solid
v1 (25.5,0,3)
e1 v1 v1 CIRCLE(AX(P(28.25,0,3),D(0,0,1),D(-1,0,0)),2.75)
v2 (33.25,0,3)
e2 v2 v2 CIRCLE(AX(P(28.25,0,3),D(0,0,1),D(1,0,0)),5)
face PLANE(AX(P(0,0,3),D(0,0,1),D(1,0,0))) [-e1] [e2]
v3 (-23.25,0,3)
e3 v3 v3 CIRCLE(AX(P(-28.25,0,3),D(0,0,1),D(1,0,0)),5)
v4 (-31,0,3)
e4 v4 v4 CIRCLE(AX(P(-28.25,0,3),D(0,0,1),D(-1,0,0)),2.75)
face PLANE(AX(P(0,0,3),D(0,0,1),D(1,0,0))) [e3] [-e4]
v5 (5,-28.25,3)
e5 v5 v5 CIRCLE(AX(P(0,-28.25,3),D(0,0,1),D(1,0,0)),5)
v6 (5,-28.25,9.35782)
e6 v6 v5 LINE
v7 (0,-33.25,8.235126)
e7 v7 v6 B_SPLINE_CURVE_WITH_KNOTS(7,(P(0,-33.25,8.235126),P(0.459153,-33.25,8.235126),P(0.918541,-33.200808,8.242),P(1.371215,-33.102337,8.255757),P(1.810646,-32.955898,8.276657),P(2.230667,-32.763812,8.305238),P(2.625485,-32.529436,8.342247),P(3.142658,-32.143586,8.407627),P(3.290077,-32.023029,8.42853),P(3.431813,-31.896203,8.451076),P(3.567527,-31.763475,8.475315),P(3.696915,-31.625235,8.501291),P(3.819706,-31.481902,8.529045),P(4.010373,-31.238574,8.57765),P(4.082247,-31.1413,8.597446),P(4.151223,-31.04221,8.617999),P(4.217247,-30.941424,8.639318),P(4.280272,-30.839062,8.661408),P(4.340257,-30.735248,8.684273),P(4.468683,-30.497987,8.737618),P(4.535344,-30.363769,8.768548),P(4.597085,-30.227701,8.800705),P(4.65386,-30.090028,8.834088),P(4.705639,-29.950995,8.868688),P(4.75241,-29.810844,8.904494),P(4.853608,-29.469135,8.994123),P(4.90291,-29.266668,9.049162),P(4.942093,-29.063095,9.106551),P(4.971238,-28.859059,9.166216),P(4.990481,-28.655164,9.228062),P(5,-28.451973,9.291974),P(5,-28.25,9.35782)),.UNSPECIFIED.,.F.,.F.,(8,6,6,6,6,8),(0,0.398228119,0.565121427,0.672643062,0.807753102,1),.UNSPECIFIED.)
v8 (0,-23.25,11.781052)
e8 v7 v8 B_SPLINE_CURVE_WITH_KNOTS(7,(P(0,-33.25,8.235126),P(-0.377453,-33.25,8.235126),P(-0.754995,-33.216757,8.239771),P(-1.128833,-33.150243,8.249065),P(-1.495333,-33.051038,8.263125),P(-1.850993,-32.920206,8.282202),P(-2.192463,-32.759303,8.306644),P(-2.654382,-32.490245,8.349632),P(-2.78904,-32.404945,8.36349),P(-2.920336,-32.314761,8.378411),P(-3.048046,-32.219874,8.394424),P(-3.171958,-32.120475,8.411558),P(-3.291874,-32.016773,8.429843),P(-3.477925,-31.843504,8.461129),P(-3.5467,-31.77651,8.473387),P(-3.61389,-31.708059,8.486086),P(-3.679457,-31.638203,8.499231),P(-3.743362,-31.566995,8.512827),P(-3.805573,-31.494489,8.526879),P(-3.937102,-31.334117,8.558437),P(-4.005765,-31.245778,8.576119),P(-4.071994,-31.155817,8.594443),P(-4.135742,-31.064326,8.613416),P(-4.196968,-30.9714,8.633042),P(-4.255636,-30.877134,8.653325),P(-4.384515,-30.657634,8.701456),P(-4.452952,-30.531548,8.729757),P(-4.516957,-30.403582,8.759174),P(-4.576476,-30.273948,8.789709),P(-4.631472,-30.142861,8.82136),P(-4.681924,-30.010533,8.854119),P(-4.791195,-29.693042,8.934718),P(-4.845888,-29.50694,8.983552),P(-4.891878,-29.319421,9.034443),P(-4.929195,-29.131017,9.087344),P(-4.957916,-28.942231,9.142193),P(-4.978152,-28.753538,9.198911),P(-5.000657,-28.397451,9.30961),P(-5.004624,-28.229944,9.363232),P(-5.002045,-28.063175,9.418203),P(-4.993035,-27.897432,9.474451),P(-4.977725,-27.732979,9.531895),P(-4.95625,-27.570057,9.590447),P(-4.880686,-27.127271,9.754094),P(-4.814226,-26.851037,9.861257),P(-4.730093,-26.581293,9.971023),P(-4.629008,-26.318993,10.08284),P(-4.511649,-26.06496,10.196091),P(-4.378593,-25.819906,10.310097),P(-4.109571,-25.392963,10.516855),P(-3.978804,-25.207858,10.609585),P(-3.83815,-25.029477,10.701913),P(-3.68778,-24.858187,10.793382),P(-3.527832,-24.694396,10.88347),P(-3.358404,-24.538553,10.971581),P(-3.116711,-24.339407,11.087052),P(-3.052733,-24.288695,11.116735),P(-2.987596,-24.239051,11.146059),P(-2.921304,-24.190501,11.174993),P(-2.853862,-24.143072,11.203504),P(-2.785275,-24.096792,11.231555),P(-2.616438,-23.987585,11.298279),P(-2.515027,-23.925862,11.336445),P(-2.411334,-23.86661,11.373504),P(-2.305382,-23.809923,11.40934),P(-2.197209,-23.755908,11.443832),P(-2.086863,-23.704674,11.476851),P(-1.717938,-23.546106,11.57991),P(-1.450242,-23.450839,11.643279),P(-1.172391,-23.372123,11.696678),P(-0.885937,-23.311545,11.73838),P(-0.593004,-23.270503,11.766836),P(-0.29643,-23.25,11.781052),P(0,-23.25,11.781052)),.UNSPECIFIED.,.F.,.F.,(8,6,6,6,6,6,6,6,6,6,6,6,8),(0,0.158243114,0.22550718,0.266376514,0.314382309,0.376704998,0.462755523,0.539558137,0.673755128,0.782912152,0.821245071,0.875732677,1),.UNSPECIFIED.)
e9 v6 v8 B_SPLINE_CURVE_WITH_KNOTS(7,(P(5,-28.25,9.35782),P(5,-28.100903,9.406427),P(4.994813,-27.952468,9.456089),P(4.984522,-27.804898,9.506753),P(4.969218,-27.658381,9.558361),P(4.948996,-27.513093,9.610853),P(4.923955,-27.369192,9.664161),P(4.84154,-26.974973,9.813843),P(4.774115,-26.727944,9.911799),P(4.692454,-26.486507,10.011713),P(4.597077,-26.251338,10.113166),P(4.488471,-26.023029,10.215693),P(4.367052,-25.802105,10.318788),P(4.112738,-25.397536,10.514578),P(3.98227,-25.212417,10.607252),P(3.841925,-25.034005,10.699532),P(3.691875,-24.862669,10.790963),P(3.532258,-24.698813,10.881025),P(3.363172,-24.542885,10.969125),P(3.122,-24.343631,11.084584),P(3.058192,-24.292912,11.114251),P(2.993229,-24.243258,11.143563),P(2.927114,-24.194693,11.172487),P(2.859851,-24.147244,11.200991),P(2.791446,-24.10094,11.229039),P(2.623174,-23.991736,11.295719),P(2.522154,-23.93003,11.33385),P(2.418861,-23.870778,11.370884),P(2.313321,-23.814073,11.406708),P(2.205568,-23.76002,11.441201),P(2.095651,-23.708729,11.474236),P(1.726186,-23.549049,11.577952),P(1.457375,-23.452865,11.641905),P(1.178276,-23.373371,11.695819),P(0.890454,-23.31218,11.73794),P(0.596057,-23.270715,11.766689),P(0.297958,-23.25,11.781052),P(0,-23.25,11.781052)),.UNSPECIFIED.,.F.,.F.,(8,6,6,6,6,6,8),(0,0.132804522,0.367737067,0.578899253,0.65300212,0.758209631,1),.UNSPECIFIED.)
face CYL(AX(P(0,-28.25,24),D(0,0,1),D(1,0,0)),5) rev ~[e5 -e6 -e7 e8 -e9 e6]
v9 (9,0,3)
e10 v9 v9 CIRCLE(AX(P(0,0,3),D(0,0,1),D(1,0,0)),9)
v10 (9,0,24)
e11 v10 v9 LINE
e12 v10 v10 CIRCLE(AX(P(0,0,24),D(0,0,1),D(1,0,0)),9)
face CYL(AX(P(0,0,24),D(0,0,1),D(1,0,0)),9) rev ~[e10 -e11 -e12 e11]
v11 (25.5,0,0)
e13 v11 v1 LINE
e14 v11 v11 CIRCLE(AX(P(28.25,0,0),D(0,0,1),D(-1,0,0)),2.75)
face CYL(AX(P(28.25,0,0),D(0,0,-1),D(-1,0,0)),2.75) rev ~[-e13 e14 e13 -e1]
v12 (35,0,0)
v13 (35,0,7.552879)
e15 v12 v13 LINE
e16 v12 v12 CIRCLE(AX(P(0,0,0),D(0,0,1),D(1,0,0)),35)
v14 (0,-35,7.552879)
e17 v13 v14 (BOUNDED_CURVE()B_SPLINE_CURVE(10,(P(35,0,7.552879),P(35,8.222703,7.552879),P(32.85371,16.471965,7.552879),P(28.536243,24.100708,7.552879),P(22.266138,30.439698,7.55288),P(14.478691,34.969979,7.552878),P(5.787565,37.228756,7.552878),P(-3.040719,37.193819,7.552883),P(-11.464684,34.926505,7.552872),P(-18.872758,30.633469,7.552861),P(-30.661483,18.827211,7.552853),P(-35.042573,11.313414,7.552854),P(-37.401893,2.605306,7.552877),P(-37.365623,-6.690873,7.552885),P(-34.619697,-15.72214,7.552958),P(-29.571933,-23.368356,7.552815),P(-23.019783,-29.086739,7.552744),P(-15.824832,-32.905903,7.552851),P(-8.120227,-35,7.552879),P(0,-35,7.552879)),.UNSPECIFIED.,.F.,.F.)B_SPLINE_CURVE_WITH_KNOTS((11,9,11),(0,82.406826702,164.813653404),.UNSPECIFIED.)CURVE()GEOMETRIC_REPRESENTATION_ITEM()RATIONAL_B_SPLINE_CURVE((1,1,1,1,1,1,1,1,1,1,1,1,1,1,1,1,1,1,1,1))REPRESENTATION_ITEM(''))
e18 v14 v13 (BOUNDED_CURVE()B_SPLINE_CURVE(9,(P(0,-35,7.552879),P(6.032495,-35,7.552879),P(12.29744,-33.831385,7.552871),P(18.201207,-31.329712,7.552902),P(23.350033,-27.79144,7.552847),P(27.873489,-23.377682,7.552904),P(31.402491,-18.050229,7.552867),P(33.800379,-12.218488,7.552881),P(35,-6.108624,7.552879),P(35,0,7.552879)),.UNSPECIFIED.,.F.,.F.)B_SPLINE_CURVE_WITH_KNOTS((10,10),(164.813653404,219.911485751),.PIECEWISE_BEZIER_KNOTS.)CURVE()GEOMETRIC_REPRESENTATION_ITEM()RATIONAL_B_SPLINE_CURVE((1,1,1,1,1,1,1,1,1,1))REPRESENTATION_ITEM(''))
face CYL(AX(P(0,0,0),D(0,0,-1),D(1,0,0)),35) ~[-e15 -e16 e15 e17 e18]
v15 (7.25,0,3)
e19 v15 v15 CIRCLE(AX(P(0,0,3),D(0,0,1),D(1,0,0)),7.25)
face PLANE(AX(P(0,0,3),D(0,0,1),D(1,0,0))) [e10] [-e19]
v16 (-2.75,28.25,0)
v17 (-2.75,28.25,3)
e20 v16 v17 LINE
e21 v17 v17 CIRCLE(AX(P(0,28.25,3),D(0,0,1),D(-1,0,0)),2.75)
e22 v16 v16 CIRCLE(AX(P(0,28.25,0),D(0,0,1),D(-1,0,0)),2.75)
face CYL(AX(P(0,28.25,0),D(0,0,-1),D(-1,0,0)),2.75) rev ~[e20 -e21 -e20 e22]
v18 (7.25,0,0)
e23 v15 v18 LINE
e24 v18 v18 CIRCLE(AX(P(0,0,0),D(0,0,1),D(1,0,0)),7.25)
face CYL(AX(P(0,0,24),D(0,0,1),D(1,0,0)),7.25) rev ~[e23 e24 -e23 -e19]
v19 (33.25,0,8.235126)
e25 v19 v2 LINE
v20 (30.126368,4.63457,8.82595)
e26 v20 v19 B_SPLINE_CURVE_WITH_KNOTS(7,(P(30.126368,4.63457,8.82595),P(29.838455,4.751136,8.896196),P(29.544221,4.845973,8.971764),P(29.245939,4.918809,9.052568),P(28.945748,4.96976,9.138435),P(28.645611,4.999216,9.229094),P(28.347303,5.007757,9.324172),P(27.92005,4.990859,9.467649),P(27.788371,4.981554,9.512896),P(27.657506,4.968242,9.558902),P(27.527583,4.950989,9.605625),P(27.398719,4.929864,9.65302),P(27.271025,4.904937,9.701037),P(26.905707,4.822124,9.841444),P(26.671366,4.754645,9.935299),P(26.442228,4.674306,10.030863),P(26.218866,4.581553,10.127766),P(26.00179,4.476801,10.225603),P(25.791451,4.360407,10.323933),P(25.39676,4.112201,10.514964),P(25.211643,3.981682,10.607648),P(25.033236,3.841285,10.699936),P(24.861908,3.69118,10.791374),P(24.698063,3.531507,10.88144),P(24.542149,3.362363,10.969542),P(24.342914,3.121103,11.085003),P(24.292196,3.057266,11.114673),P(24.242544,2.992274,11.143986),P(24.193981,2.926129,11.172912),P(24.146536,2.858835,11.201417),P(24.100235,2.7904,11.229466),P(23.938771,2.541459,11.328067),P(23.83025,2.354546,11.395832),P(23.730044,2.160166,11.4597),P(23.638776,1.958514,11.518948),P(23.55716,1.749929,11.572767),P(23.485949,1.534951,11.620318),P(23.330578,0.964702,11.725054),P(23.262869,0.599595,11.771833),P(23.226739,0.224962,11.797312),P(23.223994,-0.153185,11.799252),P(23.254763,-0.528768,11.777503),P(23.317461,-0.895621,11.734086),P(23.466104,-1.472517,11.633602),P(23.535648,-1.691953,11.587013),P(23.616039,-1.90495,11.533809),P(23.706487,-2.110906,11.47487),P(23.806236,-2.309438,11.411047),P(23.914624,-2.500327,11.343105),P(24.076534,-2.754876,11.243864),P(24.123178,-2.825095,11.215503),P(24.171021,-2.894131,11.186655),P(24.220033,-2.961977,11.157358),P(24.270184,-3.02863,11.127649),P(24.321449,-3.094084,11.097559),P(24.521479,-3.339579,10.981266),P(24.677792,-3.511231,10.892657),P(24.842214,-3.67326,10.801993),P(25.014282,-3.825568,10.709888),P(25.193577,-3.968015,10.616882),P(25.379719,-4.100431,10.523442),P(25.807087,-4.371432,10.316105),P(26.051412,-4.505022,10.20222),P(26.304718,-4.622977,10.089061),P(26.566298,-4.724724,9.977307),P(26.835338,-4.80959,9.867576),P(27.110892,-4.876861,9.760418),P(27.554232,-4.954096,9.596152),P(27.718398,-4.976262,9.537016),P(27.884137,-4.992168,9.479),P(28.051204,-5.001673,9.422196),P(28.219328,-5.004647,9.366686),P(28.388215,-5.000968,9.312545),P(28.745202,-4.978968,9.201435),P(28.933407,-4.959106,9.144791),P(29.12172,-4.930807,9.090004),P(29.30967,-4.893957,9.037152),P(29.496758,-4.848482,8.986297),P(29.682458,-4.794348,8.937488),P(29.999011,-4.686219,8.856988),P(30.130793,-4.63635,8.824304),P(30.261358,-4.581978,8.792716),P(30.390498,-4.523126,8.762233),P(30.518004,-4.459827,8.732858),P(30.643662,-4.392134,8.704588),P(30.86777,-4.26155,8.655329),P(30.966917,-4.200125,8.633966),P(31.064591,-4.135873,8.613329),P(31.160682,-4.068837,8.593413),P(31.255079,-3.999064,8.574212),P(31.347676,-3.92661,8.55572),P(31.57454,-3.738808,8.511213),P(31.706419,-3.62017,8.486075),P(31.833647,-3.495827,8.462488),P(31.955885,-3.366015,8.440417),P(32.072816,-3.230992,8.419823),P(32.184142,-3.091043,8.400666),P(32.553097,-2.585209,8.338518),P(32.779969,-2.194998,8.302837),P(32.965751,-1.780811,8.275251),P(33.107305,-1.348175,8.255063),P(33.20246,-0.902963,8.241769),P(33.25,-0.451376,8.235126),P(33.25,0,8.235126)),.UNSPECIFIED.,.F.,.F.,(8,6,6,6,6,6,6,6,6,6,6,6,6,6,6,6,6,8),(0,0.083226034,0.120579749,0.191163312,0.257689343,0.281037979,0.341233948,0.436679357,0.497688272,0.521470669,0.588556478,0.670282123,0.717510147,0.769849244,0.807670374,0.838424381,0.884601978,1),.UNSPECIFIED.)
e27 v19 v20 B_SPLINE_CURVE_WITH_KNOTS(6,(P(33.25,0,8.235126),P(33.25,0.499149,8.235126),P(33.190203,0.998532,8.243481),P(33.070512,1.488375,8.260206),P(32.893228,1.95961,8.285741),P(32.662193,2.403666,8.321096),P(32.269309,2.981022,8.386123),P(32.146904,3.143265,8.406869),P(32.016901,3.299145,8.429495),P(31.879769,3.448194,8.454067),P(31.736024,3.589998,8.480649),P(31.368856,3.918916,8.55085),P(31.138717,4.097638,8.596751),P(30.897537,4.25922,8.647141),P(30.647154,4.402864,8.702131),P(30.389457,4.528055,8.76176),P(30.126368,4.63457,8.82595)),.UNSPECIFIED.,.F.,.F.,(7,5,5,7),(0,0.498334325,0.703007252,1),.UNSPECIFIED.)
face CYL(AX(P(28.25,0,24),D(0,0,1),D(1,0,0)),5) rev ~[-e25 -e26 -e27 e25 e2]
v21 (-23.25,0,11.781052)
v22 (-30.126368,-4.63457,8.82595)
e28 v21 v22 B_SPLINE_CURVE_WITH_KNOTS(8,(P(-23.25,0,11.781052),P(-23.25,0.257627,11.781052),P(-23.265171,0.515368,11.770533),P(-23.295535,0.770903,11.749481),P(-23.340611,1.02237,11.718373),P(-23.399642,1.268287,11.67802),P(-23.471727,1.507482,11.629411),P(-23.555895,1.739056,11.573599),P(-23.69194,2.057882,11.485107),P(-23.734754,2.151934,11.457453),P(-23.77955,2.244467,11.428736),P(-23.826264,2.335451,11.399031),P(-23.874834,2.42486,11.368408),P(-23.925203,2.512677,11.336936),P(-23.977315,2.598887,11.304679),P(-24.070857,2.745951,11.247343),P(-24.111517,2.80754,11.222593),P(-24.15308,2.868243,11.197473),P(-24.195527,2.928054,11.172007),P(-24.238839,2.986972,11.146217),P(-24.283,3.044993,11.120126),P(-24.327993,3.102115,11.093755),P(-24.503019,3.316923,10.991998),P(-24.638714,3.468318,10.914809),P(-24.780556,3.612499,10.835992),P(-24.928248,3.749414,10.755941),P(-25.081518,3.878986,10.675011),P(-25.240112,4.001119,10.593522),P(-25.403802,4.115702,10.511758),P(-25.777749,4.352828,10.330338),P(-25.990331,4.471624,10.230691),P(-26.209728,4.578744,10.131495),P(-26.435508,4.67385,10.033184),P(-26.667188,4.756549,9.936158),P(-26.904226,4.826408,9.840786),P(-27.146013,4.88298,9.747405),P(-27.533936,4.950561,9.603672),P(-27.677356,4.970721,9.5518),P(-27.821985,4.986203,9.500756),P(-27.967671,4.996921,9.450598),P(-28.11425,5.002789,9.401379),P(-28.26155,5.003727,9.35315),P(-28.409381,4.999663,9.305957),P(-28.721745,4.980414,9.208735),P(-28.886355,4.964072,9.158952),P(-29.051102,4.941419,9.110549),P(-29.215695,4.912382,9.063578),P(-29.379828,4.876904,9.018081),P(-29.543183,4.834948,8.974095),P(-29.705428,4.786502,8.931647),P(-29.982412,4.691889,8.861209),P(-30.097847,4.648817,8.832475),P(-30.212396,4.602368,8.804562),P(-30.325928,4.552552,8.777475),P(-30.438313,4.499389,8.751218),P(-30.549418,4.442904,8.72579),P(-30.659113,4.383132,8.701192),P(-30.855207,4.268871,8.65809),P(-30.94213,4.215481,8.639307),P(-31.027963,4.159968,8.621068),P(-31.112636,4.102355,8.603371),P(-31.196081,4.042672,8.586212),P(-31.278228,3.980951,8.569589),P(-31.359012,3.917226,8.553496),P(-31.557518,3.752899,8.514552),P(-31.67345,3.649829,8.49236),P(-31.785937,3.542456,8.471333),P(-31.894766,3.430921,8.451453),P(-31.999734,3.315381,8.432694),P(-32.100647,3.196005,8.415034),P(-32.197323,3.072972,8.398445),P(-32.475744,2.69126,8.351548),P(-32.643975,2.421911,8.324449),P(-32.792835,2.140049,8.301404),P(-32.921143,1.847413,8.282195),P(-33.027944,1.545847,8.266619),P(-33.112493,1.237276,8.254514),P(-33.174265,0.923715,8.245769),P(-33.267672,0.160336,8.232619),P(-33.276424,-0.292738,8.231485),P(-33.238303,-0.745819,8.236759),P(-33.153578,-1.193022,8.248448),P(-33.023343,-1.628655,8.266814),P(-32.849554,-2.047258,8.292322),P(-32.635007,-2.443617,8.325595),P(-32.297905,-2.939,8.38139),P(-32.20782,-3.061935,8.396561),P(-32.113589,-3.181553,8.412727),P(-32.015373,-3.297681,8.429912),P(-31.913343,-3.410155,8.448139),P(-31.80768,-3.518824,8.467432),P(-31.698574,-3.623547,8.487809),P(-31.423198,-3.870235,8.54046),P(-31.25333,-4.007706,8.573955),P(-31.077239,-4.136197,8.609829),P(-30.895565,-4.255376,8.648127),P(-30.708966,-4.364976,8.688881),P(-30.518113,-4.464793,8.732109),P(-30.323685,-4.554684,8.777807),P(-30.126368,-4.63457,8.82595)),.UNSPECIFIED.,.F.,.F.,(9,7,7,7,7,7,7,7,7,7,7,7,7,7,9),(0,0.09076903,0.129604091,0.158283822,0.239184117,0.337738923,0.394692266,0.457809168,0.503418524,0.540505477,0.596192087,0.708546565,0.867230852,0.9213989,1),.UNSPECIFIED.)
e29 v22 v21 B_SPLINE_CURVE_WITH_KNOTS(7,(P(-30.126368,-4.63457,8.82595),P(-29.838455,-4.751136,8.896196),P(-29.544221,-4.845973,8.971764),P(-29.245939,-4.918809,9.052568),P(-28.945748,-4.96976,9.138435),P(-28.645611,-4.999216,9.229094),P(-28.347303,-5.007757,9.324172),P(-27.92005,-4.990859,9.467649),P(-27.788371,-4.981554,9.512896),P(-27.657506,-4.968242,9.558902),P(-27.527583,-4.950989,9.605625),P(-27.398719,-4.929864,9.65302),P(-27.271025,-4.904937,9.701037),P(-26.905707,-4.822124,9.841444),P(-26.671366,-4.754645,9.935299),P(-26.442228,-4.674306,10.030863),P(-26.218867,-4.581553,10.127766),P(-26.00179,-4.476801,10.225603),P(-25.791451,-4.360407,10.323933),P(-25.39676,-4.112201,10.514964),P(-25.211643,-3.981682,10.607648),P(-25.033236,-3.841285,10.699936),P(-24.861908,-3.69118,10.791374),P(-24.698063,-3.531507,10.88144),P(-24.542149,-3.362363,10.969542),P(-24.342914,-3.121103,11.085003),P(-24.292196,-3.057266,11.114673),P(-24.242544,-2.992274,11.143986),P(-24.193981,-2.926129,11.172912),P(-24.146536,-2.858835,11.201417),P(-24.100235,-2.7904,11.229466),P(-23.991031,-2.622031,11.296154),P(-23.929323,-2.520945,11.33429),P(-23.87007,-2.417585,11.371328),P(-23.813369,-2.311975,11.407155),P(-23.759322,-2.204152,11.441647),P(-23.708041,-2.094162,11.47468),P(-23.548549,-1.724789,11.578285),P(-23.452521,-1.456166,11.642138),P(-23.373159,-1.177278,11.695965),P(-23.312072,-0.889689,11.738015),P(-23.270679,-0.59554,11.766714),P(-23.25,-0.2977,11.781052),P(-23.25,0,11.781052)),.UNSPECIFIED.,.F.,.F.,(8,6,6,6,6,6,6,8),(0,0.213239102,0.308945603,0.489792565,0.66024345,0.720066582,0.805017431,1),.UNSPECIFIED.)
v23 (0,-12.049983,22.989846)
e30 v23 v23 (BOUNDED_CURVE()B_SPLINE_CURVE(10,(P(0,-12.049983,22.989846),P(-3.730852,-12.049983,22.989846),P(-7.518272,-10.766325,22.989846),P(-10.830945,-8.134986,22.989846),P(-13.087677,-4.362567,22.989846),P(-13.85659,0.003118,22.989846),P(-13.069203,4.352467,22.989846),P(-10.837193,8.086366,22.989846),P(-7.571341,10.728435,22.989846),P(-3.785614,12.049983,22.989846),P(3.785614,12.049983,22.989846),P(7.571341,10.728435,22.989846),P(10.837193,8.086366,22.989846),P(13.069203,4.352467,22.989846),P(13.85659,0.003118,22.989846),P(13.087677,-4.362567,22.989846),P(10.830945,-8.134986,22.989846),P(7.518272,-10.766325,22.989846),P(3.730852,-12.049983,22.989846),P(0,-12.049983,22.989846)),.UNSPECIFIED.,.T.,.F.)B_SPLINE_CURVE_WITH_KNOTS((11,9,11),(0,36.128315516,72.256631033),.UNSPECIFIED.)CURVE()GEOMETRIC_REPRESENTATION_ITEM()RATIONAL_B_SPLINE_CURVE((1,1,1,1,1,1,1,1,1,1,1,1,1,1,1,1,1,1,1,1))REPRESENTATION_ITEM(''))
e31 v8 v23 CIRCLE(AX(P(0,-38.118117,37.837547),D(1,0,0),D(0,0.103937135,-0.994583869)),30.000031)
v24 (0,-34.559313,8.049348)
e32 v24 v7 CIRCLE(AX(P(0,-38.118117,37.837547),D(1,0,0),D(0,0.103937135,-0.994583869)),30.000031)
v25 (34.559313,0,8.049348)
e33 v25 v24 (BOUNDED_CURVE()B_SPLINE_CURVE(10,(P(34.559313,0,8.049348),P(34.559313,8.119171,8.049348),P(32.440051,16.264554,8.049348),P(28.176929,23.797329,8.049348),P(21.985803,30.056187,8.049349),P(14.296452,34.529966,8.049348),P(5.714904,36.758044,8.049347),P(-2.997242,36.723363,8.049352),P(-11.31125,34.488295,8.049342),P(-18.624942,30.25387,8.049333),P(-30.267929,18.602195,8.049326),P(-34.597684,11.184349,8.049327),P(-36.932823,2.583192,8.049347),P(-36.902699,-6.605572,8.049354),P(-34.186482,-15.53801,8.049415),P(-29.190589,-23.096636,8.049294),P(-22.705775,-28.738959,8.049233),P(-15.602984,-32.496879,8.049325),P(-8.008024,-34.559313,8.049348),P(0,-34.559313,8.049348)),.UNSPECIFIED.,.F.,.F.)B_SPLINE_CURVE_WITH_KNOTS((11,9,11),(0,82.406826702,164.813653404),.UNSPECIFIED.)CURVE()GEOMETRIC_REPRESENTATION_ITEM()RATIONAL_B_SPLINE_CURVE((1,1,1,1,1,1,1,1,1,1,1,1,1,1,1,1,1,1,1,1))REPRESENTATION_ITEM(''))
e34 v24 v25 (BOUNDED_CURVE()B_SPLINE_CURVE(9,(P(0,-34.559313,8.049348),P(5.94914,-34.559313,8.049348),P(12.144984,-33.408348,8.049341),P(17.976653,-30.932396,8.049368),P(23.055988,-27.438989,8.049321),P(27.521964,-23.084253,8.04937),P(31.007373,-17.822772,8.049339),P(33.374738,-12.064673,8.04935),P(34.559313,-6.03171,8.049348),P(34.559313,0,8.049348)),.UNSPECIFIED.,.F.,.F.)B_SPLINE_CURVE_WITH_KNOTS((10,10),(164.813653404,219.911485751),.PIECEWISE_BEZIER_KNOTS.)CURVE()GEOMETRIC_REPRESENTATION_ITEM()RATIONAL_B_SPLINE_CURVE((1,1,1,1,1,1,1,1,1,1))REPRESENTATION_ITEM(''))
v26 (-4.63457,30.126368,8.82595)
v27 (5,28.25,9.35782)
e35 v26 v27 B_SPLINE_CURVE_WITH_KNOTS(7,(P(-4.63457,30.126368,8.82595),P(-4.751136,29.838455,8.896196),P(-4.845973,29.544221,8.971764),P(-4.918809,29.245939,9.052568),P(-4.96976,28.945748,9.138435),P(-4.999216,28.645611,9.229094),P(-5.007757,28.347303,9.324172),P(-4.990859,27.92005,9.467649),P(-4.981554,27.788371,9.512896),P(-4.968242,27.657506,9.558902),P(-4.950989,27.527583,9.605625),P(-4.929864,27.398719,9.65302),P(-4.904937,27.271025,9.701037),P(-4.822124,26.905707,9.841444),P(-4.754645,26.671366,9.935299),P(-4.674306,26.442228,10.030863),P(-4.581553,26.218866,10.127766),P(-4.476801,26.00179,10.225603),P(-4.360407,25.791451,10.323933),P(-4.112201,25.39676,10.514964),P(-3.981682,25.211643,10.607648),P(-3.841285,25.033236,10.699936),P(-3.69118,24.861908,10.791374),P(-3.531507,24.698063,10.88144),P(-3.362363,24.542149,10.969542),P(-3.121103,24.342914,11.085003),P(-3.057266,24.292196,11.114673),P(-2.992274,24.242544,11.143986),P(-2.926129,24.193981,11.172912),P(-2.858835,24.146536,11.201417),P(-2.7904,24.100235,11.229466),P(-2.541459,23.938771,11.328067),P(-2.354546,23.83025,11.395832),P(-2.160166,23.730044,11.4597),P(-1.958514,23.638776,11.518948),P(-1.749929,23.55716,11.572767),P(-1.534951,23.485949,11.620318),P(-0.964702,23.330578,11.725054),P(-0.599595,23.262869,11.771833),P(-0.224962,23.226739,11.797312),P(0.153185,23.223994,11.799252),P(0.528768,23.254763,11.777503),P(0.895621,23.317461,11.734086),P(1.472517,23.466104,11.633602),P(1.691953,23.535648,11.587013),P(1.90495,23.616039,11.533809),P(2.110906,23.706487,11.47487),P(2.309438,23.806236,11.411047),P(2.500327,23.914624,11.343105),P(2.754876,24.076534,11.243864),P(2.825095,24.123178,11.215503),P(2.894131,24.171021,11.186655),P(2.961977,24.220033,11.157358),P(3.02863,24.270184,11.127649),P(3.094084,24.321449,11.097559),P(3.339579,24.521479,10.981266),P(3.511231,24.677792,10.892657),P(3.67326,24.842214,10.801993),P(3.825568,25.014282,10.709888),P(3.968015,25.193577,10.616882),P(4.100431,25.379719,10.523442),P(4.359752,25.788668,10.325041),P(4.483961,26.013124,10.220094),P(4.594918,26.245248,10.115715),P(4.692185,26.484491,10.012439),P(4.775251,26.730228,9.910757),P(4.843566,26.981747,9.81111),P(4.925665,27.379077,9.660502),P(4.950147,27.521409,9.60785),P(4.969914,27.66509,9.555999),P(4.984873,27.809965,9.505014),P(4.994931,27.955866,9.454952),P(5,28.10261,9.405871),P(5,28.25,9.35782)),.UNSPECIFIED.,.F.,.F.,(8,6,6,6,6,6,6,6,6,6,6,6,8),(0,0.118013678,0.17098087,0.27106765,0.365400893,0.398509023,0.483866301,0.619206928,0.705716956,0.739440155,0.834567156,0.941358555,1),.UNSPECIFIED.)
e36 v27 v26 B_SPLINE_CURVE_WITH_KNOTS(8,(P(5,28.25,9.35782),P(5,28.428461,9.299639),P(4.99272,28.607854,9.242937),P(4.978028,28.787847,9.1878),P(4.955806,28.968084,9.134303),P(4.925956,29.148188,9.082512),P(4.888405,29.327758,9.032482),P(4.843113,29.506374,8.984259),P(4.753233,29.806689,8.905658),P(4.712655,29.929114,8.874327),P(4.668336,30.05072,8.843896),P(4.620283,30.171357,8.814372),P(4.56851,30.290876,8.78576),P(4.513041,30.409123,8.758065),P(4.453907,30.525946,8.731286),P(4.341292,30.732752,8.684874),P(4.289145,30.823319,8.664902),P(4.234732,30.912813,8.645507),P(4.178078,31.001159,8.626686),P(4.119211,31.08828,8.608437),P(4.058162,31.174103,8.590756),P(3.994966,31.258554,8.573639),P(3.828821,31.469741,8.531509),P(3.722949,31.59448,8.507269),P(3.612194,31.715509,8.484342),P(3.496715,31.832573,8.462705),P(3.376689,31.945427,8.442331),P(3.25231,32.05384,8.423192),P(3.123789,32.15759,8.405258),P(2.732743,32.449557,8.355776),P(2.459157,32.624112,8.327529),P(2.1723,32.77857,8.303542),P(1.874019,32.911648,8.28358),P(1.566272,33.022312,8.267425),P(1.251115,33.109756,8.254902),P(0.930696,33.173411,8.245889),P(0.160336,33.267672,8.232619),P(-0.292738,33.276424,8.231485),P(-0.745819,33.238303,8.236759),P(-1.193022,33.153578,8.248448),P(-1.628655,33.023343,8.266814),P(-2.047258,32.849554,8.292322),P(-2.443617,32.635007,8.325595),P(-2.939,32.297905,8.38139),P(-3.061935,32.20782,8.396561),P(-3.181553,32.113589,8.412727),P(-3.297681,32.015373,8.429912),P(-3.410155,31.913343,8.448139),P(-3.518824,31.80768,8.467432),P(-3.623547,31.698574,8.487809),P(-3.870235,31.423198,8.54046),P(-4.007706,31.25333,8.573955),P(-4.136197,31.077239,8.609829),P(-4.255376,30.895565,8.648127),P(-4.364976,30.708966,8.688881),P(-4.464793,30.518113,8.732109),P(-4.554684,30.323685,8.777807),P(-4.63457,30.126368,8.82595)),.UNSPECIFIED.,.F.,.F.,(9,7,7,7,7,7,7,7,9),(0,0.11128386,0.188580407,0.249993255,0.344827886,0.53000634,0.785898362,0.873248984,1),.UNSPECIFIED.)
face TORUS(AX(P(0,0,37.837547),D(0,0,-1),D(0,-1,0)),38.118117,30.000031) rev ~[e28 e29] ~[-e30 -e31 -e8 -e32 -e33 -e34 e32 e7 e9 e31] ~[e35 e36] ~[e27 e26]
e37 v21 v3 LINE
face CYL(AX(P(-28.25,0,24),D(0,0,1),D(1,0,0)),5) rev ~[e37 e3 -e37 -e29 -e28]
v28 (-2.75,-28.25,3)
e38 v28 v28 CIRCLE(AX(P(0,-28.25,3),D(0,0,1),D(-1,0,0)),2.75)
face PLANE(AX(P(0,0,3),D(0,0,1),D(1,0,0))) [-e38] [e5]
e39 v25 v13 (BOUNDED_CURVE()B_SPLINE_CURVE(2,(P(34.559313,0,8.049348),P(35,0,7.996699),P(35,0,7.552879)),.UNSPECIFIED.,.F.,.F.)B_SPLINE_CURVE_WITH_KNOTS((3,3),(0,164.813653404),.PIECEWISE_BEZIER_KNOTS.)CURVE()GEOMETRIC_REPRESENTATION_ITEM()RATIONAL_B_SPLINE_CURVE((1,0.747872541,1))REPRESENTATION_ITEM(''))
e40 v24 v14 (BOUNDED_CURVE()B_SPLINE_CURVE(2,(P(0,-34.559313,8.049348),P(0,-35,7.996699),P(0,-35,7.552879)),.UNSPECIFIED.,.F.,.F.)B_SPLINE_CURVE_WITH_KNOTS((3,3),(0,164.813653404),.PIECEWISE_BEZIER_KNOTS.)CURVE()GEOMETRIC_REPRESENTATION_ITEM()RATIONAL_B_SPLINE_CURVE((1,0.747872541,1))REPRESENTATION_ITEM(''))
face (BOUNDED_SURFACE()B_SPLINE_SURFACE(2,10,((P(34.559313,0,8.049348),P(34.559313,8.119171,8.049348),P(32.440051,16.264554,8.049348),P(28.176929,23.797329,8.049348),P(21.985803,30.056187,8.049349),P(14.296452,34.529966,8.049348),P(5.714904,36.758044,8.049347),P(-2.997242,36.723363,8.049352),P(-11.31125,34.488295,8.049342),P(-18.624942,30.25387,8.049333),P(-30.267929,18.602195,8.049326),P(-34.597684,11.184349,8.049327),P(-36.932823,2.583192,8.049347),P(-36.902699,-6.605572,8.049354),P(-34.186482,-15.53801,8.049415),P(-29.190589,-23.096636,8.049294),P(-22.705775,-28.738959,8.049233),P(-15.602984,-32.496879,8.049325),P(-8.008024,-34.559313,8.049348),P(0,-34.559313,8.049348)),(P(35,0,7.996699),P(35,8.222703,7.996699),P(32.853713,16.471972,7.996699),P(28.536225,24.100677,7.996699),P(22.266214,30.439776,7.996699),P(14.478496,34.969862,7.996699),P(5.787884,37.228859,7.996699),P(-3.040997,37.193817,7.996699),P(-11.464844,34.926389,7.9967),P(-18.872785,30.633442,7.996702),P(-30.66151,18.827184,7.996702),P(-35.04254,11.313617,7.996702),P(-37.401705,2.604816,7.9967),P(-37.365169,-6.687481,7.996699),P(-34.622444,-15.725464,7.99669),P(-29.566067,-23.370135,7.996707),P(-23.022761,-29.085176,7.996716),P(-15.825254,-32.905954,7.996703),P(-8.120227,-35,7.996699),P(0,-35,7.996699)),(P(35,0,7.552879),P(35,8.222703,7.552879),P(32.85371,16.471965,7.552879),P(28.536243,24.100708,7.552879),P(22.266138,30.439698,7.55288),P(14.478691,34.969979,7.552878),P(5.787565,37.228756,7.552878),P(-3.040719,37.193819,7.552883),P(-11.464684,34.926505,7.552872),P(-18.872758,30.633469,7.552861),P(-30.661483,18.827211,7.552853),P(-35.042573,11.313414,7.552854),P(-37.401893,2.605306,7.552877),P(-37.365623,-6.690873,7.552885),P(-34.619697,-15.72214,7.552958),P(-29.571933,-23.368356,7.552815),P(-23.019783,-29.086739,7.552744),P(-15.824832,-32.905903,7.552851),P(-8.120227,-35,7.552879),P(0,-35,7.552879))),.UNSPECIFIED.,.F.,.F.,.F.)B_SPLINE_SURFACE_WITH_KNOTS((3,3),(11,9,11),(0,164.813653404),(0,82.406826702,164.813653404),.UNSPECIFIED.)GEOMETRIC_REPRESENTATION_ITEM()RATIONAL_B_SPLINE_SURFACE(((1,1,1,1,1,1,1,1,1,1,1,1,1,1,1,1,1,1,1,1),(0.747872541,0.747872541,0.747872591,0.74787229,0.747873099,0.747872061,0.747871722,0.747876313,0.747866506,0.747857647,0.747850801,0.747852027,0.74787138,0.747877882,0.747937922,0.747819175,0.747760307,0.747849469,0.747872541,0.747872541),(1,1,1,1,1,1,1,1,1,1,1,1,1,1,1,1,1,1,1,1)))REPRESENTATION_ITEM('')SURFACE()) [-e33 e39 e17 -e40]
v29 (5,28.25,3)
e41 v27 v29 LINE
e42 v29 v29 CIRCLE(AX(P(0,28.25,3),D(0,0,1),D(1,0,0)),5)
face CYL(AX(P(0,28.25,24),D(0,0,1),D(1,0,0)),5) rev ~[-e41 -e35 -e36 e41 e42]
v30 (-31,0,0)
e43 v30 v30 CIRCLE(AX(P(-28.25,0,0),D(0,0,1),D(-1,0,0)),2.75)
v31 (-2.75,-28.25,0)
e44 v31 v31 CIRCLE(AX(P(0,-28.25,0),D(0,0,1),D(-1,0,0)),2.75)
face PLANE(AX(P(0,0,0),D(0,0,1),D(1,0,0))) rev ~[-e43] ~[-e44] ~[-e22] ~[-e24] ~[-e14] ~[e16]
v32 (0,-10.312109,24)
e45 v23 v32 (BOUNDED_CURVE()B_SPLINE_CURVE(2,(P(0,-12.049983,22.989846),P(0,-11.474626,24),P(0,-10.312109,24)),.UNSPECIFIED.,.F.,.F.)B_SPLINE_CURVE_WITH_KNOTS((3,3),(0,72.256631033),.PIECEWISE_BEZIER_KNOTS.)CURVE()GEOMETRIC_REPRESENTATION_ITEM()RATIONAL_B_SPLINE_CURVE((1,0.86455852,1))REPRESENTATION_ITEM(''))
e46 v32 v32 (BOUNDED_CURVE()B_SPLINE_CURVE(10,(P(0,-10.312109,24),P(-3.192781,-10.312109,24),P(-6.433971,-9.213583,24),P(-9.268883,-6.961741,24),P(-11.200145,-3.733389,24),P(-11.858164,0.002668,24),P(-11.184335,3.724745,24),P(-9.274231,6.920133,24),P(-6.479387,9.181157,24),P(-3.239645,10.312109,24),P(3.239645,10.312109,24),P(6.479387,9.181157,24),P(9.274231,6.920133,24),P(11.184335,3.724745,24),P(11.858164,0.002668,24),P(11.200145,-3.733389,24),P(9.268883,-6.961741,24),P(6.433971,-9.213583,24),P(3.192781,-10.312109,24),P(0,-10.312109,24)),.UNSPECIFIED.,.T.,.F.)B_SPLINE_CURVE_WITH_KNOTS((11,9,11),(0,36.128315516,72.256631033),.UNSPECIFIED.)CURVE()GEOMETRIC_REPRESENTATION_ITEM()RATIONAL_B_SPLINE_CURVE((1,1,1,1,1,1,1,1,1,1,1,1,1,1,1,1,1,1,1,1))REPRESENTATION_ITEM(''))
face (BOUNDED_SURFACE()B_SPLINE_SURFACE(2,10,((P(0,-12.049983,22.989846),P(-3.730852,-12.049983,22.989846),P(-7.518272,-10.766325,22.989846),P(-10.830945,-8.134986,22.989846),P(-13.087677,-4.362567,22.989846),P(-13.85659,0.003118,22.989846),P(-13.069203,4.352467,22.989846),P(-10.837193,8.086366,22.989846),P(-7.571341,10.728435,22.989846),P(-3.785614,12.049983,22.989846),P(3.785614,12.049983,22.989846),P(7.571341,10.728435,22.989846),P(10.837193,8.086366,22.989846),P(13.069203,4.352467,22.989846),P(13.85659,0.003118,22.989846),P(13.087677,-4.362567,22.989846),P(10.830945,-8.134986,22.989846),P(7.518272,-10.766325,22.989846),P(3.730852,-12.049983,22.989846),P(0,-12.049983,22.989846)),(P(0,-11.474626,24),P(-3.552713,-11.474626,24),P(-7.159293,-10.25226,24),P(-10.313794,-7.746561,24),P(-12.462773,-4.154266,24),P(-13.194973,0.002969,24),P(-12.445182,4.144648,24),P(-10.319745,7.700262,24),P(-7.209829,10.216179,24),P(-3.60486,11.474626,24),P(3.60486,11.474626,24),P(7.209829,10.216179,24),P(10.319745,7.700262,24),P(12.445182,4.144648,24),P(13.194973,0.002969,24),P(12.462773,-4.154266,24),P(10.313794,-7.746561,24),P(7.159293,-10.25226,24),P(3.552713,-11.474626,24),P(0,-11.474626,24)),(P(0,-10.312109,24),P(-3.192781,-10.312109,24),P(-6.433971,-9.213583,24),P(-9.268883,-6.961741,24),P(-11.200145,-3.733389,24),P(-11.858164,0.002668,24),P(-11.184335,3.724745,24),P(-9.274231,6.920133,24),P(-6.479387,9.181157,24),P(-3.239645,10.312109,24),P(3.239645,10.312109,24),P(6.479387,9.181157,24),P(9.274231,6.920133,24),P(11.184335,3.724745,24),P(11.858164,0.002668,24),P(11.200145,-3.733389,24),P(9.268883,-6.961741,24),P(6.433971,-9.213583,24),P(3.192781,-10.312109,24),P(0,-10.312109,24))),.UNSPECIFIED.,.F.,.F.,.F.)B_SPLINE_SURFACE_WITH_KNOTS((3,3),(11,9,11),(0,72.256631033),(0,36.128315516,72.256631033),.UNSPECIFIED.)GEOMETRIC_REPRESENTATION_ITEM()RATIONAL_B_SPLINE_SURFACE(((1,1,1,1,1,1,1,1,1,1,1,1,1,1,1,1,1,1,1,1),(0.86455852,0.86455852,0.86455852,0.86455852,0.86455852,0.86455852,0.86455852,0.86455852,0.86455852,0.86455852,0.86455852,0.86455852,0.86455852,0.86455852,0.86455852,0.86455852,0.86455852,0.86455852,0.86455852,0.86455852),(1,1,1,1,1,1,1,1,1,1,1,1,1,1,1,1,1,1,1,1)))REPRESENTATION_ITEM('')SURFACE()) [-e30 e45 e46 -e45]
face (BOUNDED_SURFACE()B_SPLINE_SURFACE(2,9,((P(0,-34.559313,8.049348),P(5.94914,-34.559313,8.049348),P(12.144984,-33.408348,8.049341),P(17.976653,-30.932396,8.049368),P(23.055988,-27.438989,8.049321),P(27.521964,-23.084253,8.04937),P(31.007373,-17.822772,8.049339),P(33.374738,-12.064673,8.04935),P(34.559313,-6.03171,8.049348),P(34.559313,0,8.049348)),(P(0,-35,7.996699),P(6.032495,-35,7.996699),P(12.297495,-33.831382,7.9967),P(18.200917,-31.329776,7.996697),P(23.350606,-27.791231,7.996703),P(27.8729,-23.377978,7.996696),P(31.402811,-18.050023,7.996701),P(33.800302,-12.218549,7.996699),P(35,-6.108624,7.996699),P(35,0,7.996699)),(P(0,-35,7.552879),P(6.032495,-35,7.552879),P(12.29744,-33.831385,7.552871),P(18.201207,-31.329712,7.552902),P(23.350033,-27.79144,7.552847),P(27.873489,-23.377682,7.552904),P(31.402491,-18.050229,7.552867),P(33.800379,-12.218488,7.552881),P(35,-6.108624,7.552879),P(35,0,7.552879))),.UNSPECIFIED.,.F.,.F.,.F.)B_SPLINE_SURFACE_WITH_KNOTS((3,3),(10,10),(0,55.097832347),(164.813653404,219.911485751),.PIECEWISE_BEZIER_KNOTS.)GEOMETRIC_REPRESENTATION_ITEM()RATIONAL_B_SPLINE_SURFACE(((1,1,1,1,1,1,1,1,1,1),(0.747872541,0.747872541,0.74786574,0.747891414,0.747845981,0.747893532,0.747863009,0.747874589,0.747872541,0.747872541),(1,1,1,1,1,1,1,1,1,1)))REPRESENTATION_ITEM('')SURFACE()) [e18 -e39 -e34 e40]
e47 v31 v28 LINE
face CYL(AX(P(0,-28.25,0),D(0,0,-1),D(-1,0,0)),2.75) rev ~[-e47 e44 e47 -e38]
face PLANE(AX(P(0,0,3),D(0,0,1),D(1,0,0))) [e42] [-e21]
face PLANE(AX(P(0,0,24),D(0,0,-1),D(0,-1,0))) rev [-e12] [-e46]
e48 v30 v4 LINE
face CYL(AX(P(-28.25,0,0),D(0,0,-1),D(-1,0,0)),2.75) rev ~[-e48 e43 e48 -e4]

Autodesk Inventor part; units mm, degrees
ref_plane "YZ Plane" through (0, 0, 0) normal (1, 0, 0) x (0, 1, 0)
ref_plane "XZ Plane" through (0, 0, 0) normal (0, 1, 0) x (-1, 0, 0)
ref_plane "XY Plane" through (0, 0, 0) normal (0, 0, 1) x (1, 0, 0)
sketch "Sketch1" plane through (0, 0, 0) normal (0, 0, 1) x (1, 0, 0)
  circle A0 centre (0, 0) radius 35
  dimension "d0" = 70
extrude "Extrusion1" add sketch "Sketch1" along normal blind 8
sketch "Sketch2" plane through (0, 0, 0) normal (1, 0, 0) x (0, 1, 0)
  line L0 (11.5, 24) -> (-11.5, 24)
  line L1 (35, 0) -> (35, 8) projected
  arc A0 (11.5, 24) -> (35, 8) centre (38.1181, 37.8375) ccw
  line L2 (35, 8) -> (-35, 8) projected
  arc A1 (-35, 8) -> (-11.5, 24) centre (-38.1181, 37.8375) ccw
  line L3 (35, 8) -> (0, 8)
  line L4 (0, 24) -> (0, 8)
  line L5 (-35, 0) -> (35, 0) projected
  point P0 (0, 0)
  dimension "d3" = 23
  dimension "d4" = 11.5
  dimension "d5" = 30
  dimension "d6" = 30
  dimension "d14" = 24
revolve "Revolution1" add sketch "Sketch2" angle 360 about axis through (0, 0, 24) along (0, 0, -1) contours L4 L2 A1 L0
sketch "Sketch3" plane through (0, 0, 24) normal (0, 0, 1) x (1, 0, 0)
  circle A0 centre (0, 0) radius 7.25
  dimension "d8" = 14.5
extrude "Extrusion2" cut sketch "Sketch3" against normal through all
sketch "Sketch4" plane through (0, 0, 24) normal (0, 0, 1) x (1, 0, 0)
  circle A0 centre (0, 0) radius 9
  dimension "d11" = 18
extrude "Extrusion3" cut sketch "Sketch4" against normal blind 21
sketch "Sketch5" plane through (0, 0, 0) normal (0, 0, -1) x (-1, 0, 0)
  circle A0 centre (0, 0) radius 28.25
  circle A1 centre (0, 28.25) radius 2.75
  circle A2 centre (-28.25, 0) radius 2.75
  circle A3 centre (0, -28.25) radius 2.75
  circle A4 centre (28.25, 0) radius 2.75
  dimension "d15" = 56.5
  dimension "d16" = 5.5
  dimension "d19" = 360
extrude "Extrusion4" cut sketch "Sketch5" against normal through all contours A0 A4 | A0 A4 | A1 A0 | A0 A1 | A3 A0 | A0 A3 | A2 A0 | A0 A2
sketch "Sketch7" plane through (0, 0, 24) normal (0, 0, 1) x (1, 0, 0)
  circle A0 centre (-28.25, 0) radius 2.75 projected
  circle A1 centre (-28.25, 0) radius 5
  circle A2 centre (0, 28.25) radius 2.75 projected
  circle A3 centre (0, 28.25) radius 5
  circle A4 centre (28.25, 0) radius 2.75 projected
  circle A5 centre (28.25, 0) radius 5
  circle A6 centre (0, -28.25) radius 2.75 projected
  circle A7 centre (0, -28.25) radius 5
  point P0 (0, 0)
  dimension "d27" = 10
  dimension "d28" = 10
  dimension "d29" = 10
  dimension "d30" = 10
extrude "Extrusion5" cut sketch "Sketch7" against normal blind 21
fillet "Fillet1" radius 2 1 edges at (0, 11.5, 24)
fillet "Fillet2" radius 0.5 2 edges at (-24.7487, 24.7487, 8) (24.7487, -24.7487, 8)
equation "\"d4\" = 0.5 * d3"
equation "\"d6\" = d5"
equation "\"d28\" = d27"
equation "\"d29\" = d28"
equation "\"d30\" = d27"
properties part number "Base"
